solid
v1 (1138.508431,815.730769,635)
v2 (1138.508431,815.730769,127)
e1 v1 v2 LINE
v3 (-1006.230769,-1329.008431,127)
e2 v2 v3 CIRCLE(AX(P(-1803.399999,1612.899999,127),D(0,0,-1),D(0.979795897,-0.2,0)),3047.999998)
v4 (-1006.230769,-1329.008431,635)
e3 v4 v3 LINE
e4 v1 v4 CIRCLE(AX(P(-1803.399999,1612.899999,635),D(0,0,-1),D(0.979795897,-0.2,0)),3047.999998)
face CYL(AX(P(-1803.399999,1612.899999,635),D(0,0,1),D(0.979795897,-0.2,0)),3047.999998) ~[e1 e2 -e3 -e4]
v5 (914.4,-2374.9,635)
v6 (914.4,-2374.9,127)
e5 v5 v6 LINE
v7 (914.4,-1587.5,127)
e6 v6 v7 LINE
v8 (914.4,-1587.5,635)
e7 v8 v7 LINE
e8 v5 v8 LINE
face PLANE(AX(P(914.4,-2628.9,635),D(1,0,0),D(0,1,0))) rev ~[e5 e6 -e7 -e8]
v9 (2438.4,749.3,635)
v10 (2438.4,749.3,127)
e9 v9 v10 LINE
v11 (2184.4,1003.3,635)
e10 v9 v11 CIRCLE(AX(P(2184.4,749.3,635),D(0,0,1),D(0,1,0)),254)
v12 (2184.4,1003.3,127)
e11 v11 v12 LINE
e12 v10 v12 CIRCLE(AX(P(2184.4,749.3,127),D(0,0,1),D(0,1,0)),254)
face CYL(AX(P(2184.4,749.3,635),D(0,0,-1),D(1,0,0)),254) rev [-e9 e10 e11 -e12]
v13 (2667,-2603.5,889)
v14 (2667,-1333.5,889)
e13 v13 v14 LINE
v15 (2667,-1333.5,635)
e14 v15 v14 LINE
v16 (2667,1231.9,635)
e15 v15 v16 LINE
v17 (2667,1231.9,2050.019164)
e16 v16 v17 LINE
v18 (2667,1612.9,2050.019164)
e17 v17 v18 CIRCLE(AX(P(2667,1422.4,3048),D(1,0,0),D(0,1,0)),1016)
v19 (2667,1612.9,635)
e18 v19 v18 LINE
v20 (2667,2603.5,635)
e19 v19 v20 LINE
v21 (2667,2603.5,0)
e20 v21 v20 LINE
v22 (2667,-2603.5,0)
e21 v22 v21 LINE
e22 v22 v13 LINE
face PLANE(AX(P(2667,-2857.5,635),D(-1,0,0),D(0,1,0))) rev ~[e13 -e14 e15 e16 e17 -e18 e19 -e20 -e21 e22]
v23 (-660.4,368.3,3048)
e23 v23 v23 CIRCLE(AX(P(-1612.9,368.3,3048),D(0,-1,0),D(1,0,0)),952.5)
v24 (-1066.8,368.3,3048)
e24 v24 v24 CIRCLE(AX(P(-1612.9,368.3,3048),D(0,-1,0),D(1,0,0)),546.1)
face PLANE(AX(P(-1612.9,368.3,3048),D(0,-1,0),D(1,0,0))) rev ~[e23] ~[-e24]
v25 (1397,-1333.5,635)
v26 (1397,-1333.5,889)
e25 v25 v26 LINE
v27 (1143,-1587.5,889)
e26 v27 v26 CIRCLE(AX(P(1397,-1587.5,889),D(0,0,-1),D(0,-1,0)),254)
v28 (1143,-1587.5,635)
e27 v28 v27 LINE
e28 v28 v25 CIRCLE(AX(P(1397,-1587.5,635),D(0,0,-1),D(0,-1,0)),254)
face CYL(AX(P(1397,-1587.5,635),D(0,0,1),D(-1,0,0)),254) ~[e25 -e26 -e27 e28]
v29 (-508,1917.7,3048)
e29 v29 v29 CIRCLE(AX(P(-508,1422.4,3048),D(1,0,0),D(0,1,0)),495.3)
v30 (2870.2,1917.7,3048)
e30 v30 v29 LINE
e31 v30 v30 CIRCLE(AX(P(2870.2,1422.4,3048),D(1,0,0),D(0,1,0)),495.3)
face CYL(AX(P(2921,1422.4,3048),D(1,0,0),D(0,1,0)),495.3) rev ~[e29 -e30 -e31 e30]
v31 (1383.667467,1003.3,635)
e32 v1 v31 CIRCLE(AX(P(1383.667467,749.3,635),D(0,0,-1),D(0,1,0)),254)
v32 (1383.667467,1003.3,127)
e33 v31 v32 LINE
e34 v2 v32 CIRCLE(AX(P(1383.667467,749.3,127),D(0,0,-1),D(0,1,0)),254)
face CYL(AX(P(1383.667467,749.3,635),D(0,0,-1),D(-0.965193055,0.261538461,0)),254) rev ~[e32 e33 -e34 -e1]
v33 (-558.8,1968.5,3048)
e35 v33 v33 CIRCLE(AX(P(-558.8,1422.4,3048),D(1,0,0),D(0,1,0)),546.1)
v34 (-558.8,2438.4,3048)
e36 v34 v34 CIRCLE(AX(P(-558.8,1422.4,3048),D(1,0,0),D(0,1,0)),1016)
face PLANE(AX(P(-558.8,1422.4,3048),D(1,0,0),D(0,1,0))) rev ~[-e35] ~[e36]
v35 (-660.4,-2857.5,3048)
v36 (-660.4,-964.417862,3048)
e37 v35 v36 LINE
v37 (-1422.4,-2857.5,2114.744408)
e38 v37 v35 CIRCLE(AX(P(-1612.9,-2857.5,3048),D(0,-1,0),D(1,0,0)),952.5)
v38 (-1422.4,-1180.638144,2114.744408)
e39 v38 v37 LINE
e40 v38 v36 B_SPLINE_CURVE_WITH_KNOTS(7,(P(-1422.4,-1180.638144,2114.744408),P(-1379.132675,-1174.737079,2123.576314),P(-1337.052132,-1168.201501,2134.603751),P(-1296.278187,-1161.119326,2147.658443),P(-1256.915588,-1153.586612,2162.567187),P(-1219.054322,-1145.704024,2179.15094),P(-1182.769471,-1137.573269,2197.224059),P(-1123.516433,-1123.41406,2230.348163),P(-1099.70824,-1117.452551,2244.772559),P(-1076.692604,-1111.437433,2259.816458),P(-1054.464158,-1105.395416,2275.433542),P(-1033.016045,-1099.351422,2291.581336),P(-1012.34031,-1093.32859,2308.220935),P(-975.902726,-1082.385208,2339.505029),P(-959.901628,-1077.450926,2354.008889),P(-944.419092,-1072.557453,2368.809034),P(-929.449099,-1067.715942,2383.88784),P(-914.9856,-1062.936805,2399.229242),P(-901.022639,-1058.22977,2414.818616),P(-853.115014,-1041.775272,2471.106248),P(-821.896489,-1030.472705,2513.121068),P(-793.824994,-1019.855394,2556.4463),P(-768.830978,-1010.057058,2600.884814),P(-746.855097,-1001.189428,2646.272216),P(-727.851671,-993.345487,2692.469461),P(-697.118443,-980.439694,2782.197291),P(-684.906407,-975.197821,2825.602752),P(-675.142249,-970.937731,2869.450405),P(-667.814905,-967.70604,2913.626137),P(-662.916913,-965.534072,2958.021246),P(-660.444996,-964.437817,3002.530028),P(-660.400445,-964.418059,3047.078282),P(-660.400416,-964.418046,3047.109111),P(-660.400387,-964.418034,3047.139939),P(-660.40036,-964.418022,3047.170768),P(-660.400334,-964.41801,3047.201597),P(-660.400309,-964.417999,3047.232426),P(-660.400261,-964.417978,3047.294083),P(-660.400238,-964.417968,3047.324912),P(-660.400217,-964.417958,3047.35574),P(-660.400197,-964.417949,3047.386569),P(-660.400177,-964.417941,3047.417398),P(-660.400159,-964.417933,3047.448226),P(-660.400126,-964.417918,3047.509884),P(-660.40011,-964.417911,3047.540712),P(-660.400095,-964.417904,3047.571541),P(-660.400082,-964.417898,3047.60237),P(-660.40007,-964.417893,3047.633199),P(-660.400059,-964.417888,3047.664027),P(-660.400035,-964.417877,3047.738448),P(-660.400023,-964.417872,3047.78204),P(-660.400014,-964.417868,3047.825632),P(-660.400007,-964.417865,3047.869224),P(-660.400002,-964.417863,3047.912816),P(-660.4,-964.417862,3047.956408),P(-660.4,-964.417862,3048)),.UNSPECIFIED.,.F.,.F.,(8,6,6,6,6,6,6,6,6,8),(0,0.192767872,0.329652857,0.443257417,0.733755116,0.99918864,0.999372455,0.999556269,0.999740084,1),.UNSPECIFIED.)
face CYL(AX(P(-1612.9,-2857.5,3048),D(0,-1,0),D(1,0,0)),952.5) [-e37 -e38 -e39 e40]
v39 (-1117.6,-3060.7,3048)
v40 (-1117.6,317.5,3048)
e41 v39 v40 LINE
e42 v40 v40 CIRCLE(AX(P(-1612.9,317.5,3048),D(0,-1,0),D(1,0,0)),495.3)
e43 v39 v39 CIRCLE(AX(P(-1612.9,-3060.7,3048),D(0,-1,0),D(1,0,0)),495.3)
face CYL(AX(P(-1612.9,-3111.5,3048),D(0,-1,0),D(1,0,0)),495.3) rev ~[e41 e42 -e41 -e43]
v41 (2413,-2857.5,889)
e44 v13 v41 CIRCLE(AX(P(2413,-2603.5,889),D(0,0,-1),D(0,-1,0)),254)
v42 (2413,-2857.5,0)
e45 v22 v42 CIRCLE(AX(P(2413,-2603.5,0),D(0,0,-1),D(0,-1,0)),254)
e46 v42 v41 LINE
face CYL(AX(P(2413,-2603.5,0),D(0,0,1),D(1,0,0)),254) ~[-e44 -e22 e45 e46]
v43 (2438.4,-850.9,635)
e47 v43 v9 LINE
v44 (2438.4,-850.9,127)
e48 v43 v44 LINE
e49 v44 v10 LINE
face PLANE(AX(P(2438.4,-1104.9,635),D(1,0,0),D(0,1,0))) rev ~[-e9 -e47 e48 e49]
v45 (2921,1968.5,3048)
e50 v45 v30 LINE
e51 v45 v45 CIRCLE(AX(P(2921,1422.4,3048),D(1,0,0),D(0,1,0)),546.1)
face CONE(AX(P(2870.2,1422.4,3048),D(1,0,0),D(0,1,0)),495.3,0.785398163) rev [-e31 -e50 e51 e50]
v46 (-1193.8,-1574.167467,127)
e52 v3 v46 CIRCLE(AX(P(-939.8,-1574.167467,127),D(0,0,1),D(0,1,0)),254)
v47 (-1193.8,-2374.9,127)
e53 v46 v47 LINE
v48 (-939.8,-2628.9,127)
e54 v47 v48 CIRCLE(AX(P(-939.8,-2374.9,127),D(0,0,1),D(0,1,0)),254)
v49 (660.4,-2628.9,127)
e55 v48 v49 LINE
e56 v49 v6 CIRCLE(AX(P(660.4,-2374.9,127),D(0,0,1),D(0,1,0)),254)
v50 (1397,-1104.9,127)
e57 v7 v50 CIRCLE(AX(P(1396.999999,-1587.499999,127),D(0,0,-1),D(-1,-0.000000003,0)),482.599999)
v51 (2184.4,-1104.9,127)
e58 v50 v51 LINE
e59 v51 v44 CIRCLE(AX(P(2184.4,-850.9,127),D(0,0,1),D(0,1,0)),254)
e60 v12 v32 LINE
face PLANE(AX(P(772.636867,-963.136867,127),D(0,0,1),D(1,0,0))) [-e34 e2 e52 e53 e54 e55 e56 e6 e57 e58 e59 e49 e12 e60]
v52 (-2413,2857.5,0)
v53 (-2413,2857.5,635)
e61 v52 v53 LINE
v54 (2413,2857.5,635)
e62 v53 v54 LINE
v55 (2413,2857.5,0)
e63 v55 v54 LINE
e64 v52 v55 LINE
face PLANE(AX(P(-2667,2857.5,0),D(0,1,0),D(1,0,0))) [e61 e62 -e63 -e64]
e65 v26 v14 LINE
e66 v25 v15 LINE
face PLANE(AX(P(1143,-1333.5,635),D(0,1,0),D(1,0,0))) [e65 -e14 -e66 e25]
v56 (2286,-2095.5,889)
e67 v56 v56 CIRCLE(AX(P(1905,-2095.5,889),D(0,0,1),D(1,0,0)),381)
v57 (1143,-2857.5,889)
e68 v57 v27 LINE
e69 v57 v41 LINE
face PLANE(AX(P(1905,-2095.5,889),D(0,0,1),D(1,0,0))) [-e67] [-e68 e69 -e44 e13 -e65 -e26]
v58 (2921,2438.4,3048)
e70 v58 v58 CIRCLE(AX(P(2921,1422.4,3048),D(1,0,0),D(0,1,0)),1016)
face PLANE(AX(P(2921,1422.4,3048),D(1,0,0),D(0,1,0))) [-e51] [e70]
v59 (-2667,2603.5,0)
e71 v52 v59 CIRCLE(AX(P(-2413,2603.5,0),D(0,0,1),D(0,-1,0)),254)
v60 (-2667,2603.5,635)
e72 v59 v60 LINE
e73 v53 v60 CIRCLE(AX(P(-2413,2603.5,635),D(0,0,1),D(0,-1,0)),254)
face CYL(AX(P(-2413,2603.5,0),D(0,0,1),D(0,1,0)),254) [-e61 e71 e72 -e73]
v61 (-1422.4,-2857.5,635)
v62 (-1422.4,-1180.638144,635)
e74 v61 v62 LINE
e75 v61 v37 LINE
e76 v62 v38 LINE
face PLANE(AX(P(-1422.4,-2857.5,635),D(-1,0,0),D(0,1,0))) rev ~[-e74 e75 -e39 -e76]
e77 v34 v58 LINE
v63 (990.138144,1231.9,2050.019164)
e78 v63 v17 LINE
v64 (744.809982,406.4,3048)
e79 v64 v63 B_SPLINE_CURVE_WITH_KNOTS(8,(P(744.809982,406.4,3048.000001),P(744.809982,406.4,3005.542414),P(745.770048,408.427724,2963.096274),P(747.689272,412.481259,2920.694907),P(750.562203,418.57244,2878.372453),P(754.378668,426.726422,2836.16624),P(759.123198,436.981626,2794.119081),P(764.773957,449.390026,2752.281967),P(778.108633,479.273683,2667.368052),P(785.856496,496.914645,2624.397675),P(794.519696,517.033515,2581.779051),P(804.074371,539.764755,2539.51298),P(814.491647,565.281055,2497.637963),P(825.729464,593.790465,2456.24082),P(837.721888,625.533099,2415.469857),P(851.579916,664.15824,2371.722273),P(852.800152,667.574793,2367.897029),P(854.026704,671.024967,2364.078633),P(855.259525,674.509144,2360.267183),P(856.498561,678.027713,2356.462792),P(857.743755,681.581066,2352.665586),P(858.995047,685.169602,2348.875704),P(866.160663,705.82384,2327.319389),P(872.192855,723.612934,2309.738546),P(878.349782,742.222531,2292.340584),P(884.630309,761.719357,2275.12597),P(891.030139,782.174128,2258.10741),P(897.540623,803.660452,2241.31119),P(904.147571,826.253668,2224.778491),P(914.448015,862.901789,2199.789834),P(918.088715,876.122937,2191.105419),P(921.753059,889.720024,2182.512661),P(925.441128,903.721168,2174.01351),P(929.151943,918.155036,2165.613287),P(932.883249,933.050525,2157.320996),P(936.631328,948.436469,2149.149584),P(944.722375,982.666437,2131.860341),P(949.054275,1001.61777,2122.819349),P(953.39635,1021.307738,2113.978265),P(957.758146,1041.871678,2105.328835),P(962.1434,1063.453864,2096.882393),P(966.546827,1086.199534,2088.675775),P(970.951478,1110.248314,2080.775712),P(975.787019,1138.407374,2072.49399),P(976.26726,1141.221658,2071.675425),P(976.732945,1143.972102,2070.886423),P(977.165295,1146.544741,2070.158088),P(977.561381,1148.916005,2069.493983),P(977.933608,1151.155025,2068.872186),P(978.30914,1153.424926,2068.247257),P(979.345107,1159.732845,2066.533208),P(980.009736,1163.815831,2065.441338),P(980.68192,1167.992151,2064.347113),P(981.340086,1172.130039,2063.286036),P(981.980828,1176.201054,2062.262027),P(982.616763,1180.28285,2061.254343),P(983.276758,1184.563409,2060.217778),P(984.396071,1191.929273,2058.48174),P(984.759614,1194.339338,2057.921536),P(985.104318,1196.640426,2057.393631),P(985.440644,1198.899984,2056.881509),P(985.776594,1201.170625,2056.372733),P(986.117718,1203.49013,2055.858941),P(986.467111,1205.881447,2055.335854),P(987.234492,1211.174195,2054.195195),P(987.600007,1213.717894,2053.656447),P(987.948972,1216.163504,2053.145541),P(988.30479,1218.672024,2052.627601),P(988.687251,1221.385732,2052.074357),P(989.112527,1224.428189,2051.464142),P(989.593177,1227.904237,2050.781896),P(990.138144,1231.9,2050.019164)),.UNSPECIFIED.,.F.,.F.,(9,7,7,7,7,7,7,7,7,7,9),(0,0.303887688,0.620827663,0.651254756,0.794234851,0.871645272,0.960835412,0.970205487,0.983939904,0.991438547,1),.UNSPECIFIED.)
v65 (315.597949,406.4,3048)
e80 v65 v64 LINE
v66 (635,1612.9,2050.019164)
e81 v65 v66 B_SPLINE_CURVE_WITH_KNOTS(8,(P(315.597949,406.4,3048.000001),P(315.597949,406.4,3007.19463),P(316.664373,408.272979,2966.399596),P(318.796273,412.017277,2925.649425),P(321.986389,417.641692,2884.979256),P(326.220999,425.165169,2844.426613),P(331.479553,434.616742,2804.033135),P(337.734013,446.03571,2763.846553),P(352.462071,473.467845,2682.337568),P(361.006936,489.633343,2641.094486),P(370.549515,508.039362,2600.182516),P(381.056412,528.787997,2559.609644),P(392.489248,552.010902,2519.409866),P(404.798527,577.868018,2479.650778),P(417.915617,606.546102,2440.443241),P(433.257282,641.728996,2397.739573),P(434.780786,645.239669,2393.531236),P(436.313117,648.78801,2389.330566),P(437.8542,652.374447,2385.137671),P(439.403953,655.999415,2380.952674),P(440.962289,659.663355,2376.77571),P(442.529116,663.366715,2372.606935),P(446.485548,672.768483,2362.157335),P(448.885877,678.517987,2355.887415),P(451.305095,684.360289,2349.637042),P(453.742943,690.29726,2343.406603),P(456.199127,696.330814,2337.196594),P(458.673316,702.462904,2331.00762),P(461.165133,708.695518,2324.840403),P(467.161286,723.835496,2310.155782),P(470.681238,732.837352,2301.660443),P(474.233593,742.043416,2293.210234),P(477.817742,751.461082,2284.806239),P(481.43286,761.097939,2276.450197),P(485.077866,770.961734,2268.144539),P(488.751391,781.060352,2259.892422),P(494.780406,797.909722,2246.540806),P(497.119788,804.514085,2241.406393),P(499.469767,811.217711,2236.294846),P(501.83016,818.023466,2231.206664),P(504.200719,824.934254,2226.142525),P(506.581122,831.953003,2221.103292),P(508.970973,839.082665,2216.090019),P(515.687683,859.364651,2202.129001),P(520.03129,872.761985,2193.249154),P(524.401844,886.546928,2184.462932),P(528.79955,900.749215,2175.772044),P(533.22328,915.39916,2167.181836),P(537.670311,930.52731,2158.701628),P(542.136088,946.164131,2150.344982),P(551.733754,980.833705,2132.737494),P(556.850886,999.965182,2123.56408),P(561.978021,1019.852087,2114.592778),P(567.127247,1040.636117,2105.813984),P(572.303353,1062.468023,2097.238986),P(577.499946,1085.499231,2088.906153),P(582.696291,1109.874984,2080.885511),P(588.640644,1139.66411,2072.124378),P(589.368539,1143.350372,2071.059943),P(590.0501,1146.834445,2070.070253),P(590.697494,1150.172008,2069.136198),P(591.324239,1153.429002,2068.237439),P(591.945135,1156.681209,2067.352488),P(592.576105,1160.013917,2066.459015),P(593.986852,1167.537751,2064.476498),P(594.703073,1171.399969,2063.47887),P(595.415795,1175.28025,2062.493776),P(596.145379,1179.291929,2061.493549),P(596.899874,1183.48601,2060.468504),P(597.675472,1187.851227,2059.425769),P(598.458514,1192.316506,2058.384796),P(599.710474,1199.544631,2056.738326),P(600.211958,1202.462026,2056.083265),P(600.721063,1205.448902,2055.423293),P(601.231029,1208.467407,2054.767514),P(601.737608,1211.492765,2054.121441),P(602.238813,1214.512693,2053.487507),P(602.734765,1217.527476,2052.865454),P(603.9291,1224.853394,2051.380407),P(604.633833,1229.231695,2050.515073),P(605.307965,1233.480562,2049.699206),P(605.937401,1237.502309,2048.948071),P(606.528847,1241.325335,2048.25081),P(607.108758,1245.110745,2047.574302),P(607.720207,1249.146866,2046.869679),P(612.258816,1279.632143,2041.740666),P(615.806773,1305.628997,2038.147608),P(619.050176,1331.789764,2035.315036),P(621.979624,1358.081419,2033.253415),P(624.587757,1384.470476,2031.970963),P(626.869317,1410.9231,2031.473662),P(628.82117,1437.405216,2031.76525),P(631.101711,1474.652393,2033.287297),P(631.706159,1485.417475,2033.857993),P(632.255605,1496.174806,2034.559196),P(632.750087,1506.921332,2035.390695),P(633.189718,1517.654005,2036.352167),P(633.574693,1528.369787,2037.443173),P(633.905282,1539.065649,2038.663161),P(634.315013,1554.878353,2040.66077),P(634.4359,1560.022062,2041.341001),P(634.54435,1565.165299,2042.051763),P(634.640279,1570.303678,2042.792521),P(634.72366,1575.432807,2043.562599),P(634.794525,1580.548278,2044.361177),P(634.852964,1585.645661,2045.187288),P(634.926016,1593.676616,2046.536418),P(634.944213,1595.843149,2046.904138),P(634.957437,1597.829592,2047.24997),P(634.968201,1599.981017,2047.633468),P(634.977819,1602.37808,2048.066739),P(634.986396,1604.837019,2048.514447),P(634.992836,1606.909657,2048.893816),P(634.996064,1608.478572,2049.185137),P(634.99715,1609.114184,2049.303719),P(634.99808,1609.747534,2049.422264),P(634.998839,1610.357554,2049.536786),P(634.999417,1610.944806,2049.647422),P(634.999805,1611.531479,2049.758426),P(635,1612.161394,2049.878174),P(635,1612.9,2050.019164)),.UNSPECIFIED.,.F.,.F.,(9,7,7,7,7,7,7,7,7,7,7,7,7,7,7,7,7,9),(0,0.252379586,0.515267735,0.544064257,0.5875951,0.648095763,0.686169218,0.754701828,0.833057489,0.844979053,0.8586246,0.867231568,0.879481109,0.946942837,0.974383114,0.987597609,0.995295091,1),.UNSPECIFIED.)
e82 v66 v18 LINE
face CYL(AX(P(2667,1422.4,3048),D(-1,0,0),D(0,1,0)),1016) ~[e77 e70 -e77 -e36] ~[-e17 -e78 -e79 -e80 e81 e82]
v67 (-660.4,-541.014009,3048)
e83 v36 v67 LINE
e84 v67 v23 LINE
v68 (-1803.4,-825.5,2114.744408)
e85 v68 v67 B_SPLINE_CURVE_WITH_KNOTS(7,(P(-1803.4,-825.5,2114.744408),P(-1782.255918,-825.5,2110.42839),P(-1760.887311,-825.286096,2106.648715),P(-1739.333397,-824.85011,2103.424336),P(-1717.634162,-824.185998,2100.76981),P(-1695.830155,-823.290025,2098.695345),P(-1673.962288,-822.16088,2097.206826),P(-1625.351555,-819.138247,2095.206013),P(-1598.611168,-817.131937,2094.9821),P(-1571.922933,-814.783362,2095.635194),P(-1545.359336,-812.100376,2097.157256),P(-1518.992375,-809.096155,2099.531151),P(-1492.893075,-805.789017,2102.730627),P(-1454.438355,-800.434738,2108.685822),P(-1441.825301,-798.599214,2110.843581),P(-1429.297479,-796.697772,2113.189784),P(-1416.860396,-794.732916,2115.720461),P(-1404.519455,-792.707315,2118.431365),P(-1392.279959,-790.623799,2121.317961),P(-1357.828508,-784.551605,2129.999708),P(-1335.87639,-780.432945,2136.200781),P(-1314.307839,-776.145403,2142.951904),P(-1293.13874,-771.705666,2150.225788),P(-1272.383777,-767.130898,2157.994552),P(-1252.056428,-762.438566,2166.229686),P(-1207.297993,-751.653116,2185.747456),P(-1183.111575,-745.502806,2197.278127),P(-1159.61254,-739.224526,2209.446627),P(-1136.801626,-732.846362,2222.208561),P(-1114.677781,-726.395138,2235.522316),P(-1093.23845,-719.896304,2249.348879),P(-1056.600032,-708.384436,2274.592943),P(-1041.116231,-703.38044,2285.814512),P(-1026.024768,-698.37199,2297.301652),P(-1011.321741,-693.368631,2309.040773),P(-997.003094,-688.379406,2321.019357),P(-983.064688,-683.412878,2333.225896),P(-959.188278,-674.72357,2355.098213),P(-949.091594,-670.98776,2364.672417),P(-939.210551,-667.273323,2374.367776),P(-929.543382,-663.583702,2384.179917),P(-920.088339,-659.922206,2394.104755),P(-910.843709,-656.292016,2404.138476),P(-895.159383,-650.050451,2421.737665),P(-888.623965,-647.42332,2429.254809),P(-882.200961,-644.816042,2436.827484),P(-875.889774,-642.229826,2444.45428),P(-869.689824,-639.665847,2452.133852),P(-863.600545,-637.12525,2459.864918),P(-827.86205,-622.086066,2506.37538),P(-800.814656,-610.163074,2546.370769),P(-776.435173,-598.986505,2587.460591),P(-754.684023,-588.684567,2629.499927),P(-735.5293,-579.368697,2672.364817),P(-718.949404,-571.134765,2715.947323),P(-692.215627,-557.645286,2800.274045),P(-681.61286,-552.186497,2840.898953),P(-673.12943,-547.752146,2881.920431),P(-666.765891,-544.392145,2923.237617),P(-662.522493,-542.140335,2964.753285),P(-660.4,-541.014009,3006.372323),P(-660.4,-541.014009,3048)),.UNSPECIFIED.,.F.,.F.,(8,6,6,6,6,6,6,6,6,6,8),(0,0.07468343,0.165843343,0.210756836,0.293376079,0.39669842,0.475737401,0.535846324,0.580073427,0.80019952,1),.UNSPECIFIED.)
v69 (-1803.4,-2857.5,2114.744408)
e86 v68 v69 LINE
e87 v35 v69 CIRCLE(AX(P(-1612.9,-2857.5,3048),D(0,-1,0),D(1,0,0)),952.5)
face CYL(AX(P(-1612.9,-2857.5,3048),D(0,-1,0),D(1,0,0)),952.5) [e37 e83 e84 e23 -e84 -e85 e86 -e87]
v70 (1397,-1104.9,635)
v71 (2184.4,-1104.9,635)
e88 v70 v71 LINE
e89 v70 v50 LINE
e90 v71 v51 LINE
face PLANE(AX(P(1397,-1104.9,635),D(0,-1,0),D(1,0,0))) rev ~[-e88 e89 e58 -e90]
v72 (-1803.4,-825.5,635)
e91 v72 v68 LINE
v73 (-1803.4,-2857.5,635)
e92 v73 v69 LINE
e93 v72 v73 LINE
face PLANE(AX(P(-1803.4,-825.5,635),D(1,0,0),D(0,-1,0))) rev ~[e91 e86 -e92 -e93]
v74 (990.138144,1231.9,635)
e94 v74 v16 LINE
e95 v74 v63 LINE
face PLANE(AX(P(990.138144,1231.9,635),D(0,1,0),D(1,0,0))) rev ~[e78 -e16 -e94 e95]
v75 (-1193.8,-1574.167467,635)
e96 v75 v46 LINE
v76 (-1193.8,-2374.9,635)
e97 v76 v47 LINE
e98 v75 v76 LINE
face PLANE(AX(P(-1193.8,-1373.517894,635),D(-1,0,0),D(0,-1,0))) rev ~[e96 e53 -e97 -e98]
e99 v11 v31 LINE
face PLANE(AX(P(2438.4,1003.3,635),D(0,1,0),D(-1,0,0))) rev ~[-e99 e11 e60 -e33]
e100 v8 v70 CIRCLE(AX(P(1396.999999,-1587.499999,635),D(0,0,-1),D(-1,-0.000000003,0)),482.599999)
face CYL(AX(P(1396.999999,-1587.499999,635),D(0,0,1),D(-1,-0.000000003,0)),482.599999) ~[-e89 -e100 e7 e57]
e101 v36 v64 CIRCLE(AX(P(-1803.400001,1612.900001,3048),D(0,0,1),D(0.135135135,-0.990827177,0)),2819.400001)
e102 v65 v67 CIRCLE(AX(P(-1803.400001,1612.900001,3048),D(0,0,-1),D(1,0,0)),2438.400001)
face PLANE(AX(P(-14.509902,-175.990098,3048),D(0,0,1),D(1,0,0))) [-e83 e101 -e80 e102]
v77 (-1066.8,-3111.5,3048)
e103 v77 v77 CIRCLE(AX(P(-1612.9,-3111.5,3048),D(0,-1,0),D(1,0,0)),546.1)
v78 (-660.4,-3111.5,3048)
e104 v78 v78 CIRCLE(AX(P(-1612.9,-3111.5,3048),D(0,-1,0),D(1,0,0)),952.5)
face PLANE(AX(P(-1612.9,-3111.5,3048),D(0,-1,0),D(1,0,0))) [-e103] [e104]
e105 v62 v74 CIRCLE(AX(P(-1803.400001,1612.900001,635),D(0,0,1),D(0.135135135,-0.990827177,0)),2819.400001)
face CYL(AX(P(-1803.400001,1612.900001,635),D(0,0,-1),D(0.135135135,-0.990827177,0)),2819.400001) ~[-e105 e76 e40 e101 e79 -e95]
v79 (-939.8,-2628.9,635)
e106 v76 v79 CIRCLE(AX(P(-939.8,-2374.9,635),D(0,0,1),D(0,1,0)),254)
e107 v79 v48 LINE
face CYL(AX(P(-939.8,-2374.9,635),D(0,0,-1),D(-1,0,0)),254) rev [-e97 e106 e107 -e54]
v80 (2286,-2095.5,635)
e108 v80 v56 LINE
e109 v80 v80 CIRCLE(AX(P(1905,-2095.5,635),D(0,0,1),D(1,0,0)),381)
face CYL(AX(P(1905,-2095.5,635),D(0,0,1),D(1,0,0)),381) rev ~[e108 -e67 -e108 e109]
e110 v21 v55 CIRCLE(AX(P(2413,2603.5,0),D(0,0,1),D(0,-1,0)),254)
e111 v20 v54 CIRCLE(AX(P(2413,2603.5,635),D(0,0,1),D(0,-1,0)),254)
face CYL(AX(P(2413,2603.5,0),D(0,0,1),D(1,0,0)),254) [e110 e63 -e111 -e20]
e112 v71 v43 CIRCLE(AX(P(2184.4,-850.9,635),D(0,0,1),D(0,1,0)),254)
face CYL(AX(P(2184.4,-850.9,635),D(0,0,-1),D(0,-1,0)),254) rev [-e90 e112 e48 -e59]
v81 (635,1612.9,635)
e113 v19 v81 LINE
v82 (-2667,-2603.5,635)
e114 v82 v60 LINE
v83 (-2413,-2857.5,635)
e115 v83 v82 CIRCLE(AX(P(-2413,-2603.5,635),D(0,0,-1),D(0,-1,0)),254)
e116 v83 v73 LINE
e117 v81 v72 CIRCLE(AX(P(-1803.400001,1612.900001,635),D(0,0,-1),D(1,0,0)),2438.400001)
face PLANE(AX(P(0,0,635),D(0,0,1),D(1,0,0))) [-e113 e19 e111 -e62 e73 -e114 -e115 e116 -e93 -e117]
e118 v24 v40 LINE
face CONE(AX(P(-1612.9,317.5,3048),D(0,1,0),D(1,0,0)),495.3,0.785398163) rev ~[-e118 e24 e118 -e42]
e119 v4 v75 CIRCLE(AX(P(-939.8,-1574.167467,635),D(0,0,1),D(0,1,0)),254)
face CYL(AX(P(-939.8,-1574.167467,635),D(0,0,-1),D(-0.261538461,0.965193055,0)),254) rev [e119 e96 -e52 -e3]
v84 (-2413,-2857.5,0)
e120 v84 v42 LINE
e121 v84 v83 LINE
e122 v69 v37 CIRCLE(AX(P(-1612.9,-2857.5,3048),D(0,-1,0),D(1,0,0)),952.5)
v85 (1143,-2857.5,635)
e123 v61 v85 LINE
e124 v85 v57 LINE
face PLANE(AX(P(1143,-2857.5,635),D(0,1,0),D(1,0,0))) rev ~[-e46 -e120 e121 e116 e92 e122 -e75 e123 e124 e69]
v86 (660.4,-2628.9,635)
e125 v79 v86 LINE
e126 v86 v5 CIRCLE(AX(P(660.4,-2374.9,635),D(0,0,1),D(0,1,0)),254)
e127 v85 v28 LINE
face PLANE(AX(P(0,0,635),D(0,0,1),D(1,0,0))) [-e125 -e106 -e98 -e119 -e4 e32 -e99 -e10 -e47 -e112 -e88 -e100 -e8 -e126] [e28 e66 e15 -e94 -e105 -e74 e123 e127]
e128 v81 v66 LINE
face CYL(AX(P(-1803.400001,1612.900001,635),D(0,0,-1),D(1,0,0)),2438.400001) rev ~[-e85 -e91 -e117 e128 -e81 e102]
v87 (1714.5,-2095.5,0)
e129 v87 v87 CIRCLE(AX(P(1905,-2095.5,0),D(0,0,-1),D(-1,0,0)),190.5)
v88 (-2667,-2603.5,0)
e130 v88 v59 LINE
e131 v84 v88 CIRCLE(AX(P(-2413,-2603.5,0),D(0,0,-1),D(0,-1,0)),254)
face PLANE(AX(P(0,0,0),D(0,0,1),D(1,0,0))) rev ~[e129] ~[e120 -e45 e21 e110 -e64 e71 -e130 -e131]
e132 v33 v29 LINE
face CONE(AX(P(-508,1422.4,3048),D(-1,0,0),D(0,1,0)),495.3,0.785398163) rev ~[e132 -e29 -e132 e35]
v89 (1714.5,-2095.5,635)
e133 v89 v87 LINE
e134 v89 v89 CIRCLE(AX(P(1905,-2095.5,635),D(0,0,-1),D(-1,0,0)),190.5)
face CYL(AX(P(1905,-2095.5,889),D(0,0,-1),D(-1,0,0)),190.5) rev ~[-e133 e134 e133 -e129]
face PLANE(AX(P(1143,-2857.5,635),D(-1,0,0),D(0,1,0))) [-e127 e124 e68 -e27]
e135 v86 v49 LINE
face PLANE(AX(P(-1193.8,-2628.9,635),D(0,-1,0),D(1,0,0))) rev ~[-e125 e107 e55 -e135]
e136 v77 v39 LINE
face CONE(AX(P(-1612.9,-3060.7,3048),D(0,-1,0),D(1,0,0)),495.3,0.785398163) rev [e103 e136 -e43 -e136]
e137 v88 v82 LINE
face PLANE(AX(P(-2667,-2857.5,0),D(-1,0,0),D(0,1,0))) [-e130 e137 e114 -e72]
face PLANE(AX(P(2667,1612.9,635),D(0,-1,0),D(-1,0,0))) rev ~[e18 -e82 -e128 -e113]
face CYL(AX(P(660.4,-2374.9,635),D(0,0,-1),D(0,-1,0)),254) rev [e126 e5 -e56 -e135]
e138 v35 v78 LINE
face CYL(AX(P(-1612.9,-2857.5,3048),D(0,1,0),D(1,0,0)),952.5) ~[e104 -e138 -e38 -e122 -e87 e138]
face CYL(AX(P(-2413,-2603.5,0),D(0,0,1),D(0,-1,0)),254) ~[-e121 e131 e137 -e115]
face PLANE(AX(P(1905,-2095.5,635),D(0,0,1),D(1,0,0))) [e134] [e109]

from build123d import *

# Parameters (mm, degrees)
F0_W            = 5334
F0_H            = 5715
F1_DEPTH        = 635
F3_DEPTH        = 2413
F4_R            = 952.5
F5_DEPTH        = 254
F5_DEPTH_BACK   = 3225.8
F6_R            = 1016
F7_DEPTH        = 254
F7_DEPTH_BACK   = 3225.8
F8_W            = 1524
F8_H            = 1524
F9_DEPTH        = 254
F10_R           = 254
F12_DEPTH       = 508
F14_D           = 381
F14_CBORE_D     = 762
F14_CBORE_DEPTH = 254
F15_R           = 254
F16_R           = 495.3
F17_DEPTH       = 5969.001
F18_R           = 495.3
F19_DEPTH       = 5588.001
F20_SIZE        = 50.8
F21_R           = 254


with BuildPart() as f1:
    # F0 (on Top) → F1 (new body)
    with BuildSketch(Plane.XY):
        Rectangle(F0_W, F0_H)
    extrude(amount=F1_DEPTH)

    # F2 (on face) → F3 (join)
    with BuildSketch(Plane.XY.offset(635)):
        with BuildLine():
            Line((-1803.4, -825.5), (-1803.4, -2857.5))
            Line((-1803.4, -2857.5), (-1422.4, -2857.5))
            Line((-1422.4, -2857.5), (-1422.4, -1180.638144))
            ThreePointArc((-1422.4, -1180.638144), (190.216859, -380.716859), (990.138144, 1231.9))
            Line((990.138144, 1231.9), (2667, 1231.9))
            Line((2667, 1231.9), (2667, 1612.9))
            Line((2667, 1612.9), (635, 1612.9))
            ThreePointArc((635, 1612.9), (-79.190825, -111.309175), (-1803.4, -825.5))
        make_face()
    extrude(amount=F3_DEPTH)

    # F4 (on face) → F5 (join, two sides)
    with BuildSketch(Plane.XZ.offset(2857.5)) as f5_sk:
        with Locations((-1612.9, 3048)):
            Circle(F4_R)
    extrude(amount=F5_DEPTH)
    extrude(f5_sk.sketch, amount=-F5_DEPTH_BACK)

    # F6 (on face) → F7 (join, two sides)
    with BuildSketch(Plane.YZ.offset(2667)) as f7_sk:
        with Locations((1422.4, 3048)):
            Circle(F6_R)
    extrude(amount=F7_DEPTH)
    extrude(f7_sk.sketch, amount=-F7_DEPTH_BACK)

    # F8 (on face) → F9 (join)
    with BuildSketch(Plane.XY.offset(635)):
        with Locations((1905, -2095.5)):
            Rectangle(F8_W, F8_H)
    extrude(amount=F9_DEPTH)

    # F10
    f10_edges = [f1.edges().sort_by_distance(p)[0] for p in [
        (1143, -1333.5, 762),
    ]]
    fillet(f10_edges, radius=F10_R)

    # F11 (on face) → F12 (cut)
    with BuildSketch(Plane.XY.offset(635)):
        with BuildLine():
            ThreePointArc((1183.017894, 1003.3), (351.861469, -542.361469), (-1193.8, -1373.517894))
            Line((-1193.8, -1373.517894), (-1193.8, -2628.9))
            Line((-1193.8, -2628.9), (914.4, -2628.9))
            Line((914.4, -2628.9), (914.4, -1587.5))
            ThreePointArc((914.4, -1587.5), (1055.750267, -1246.250267), (1397, -1104.9))
            Line((1397, -1104.9), (2438.4, -1104.9))
            Line((2438.4, -1104.9), (2438.4, 1003.3))
            Line((2438.4, 1003.3), (1183.017894, 1003.3))
        make_face()
    extrude(amount=-F12_DEPTH, mode=Mode.SUBTRACT)

    # F14 (through all)
    with Locations(Plane.XY.offset(889)):
        with Locations((1905, -2095.5)):
            CounterBoreHole(F14_D / 2, F14_CBORE_D / 2, F14_CBORE_DEPTH)

    # F15
    f15_edges = [f1.edges().sort_by_distance(p)[0] for p in [
        (-1193.8, -1373.517894, 381),
        (1183.017894, 1003.3, 381),
        (2438.4, 1003.3, 381),
        (2438.4, -1104.9, 381),
        (914.4, -2628.9, 381),
        (-1193.8, -2628.9, 381),
    ]]
    fillet(f15_edges, radius=F15_R)

    # F16 (on face) → F17 (cut, through all)
    with BuildSketch(Plane.XZ.offset(3111.5)):
        with Locations((-1612.9, 3048)):
            Circle(F16_R)
    extrude(amount=-F17_DEPTH, mode=Mode.SUBTRACT)

    # F18 (on face) → F19 (cut, through all)
    with BuildSketch(Plane.YZ.offset(2921)):
        with Locations((1422.4, 3048)):
            Circle(F18_R)
    extrude(amount=-F19_DEPTH, mode=Mode.SUBTRACT)

    # F20
    f20_edges = [f1.edges().sort_by_distance(p)[0] for p in [
        (-2108.2, -3111.5, 3048),
        (2921, 927.1, 3048),
        (-2108.2, 368.3, 3048),
        (-558.8, 927.1, 3048),
    ]]
    chamfer(f20_edges, length=F20_SIZE)

    # F21
    f21_edges = [f1.edges().sort_by_distance(p)[0] for p in [
        (2667, -2857.5, 444.5),
        (-2667, -2857.5, 317.5),
        (2667, 2857.5, 317.5),
        (-2667, 2857.5, 317.5),
    ]]
    fillet(f21_edges, radius=F21_R)


solid = f1.part
